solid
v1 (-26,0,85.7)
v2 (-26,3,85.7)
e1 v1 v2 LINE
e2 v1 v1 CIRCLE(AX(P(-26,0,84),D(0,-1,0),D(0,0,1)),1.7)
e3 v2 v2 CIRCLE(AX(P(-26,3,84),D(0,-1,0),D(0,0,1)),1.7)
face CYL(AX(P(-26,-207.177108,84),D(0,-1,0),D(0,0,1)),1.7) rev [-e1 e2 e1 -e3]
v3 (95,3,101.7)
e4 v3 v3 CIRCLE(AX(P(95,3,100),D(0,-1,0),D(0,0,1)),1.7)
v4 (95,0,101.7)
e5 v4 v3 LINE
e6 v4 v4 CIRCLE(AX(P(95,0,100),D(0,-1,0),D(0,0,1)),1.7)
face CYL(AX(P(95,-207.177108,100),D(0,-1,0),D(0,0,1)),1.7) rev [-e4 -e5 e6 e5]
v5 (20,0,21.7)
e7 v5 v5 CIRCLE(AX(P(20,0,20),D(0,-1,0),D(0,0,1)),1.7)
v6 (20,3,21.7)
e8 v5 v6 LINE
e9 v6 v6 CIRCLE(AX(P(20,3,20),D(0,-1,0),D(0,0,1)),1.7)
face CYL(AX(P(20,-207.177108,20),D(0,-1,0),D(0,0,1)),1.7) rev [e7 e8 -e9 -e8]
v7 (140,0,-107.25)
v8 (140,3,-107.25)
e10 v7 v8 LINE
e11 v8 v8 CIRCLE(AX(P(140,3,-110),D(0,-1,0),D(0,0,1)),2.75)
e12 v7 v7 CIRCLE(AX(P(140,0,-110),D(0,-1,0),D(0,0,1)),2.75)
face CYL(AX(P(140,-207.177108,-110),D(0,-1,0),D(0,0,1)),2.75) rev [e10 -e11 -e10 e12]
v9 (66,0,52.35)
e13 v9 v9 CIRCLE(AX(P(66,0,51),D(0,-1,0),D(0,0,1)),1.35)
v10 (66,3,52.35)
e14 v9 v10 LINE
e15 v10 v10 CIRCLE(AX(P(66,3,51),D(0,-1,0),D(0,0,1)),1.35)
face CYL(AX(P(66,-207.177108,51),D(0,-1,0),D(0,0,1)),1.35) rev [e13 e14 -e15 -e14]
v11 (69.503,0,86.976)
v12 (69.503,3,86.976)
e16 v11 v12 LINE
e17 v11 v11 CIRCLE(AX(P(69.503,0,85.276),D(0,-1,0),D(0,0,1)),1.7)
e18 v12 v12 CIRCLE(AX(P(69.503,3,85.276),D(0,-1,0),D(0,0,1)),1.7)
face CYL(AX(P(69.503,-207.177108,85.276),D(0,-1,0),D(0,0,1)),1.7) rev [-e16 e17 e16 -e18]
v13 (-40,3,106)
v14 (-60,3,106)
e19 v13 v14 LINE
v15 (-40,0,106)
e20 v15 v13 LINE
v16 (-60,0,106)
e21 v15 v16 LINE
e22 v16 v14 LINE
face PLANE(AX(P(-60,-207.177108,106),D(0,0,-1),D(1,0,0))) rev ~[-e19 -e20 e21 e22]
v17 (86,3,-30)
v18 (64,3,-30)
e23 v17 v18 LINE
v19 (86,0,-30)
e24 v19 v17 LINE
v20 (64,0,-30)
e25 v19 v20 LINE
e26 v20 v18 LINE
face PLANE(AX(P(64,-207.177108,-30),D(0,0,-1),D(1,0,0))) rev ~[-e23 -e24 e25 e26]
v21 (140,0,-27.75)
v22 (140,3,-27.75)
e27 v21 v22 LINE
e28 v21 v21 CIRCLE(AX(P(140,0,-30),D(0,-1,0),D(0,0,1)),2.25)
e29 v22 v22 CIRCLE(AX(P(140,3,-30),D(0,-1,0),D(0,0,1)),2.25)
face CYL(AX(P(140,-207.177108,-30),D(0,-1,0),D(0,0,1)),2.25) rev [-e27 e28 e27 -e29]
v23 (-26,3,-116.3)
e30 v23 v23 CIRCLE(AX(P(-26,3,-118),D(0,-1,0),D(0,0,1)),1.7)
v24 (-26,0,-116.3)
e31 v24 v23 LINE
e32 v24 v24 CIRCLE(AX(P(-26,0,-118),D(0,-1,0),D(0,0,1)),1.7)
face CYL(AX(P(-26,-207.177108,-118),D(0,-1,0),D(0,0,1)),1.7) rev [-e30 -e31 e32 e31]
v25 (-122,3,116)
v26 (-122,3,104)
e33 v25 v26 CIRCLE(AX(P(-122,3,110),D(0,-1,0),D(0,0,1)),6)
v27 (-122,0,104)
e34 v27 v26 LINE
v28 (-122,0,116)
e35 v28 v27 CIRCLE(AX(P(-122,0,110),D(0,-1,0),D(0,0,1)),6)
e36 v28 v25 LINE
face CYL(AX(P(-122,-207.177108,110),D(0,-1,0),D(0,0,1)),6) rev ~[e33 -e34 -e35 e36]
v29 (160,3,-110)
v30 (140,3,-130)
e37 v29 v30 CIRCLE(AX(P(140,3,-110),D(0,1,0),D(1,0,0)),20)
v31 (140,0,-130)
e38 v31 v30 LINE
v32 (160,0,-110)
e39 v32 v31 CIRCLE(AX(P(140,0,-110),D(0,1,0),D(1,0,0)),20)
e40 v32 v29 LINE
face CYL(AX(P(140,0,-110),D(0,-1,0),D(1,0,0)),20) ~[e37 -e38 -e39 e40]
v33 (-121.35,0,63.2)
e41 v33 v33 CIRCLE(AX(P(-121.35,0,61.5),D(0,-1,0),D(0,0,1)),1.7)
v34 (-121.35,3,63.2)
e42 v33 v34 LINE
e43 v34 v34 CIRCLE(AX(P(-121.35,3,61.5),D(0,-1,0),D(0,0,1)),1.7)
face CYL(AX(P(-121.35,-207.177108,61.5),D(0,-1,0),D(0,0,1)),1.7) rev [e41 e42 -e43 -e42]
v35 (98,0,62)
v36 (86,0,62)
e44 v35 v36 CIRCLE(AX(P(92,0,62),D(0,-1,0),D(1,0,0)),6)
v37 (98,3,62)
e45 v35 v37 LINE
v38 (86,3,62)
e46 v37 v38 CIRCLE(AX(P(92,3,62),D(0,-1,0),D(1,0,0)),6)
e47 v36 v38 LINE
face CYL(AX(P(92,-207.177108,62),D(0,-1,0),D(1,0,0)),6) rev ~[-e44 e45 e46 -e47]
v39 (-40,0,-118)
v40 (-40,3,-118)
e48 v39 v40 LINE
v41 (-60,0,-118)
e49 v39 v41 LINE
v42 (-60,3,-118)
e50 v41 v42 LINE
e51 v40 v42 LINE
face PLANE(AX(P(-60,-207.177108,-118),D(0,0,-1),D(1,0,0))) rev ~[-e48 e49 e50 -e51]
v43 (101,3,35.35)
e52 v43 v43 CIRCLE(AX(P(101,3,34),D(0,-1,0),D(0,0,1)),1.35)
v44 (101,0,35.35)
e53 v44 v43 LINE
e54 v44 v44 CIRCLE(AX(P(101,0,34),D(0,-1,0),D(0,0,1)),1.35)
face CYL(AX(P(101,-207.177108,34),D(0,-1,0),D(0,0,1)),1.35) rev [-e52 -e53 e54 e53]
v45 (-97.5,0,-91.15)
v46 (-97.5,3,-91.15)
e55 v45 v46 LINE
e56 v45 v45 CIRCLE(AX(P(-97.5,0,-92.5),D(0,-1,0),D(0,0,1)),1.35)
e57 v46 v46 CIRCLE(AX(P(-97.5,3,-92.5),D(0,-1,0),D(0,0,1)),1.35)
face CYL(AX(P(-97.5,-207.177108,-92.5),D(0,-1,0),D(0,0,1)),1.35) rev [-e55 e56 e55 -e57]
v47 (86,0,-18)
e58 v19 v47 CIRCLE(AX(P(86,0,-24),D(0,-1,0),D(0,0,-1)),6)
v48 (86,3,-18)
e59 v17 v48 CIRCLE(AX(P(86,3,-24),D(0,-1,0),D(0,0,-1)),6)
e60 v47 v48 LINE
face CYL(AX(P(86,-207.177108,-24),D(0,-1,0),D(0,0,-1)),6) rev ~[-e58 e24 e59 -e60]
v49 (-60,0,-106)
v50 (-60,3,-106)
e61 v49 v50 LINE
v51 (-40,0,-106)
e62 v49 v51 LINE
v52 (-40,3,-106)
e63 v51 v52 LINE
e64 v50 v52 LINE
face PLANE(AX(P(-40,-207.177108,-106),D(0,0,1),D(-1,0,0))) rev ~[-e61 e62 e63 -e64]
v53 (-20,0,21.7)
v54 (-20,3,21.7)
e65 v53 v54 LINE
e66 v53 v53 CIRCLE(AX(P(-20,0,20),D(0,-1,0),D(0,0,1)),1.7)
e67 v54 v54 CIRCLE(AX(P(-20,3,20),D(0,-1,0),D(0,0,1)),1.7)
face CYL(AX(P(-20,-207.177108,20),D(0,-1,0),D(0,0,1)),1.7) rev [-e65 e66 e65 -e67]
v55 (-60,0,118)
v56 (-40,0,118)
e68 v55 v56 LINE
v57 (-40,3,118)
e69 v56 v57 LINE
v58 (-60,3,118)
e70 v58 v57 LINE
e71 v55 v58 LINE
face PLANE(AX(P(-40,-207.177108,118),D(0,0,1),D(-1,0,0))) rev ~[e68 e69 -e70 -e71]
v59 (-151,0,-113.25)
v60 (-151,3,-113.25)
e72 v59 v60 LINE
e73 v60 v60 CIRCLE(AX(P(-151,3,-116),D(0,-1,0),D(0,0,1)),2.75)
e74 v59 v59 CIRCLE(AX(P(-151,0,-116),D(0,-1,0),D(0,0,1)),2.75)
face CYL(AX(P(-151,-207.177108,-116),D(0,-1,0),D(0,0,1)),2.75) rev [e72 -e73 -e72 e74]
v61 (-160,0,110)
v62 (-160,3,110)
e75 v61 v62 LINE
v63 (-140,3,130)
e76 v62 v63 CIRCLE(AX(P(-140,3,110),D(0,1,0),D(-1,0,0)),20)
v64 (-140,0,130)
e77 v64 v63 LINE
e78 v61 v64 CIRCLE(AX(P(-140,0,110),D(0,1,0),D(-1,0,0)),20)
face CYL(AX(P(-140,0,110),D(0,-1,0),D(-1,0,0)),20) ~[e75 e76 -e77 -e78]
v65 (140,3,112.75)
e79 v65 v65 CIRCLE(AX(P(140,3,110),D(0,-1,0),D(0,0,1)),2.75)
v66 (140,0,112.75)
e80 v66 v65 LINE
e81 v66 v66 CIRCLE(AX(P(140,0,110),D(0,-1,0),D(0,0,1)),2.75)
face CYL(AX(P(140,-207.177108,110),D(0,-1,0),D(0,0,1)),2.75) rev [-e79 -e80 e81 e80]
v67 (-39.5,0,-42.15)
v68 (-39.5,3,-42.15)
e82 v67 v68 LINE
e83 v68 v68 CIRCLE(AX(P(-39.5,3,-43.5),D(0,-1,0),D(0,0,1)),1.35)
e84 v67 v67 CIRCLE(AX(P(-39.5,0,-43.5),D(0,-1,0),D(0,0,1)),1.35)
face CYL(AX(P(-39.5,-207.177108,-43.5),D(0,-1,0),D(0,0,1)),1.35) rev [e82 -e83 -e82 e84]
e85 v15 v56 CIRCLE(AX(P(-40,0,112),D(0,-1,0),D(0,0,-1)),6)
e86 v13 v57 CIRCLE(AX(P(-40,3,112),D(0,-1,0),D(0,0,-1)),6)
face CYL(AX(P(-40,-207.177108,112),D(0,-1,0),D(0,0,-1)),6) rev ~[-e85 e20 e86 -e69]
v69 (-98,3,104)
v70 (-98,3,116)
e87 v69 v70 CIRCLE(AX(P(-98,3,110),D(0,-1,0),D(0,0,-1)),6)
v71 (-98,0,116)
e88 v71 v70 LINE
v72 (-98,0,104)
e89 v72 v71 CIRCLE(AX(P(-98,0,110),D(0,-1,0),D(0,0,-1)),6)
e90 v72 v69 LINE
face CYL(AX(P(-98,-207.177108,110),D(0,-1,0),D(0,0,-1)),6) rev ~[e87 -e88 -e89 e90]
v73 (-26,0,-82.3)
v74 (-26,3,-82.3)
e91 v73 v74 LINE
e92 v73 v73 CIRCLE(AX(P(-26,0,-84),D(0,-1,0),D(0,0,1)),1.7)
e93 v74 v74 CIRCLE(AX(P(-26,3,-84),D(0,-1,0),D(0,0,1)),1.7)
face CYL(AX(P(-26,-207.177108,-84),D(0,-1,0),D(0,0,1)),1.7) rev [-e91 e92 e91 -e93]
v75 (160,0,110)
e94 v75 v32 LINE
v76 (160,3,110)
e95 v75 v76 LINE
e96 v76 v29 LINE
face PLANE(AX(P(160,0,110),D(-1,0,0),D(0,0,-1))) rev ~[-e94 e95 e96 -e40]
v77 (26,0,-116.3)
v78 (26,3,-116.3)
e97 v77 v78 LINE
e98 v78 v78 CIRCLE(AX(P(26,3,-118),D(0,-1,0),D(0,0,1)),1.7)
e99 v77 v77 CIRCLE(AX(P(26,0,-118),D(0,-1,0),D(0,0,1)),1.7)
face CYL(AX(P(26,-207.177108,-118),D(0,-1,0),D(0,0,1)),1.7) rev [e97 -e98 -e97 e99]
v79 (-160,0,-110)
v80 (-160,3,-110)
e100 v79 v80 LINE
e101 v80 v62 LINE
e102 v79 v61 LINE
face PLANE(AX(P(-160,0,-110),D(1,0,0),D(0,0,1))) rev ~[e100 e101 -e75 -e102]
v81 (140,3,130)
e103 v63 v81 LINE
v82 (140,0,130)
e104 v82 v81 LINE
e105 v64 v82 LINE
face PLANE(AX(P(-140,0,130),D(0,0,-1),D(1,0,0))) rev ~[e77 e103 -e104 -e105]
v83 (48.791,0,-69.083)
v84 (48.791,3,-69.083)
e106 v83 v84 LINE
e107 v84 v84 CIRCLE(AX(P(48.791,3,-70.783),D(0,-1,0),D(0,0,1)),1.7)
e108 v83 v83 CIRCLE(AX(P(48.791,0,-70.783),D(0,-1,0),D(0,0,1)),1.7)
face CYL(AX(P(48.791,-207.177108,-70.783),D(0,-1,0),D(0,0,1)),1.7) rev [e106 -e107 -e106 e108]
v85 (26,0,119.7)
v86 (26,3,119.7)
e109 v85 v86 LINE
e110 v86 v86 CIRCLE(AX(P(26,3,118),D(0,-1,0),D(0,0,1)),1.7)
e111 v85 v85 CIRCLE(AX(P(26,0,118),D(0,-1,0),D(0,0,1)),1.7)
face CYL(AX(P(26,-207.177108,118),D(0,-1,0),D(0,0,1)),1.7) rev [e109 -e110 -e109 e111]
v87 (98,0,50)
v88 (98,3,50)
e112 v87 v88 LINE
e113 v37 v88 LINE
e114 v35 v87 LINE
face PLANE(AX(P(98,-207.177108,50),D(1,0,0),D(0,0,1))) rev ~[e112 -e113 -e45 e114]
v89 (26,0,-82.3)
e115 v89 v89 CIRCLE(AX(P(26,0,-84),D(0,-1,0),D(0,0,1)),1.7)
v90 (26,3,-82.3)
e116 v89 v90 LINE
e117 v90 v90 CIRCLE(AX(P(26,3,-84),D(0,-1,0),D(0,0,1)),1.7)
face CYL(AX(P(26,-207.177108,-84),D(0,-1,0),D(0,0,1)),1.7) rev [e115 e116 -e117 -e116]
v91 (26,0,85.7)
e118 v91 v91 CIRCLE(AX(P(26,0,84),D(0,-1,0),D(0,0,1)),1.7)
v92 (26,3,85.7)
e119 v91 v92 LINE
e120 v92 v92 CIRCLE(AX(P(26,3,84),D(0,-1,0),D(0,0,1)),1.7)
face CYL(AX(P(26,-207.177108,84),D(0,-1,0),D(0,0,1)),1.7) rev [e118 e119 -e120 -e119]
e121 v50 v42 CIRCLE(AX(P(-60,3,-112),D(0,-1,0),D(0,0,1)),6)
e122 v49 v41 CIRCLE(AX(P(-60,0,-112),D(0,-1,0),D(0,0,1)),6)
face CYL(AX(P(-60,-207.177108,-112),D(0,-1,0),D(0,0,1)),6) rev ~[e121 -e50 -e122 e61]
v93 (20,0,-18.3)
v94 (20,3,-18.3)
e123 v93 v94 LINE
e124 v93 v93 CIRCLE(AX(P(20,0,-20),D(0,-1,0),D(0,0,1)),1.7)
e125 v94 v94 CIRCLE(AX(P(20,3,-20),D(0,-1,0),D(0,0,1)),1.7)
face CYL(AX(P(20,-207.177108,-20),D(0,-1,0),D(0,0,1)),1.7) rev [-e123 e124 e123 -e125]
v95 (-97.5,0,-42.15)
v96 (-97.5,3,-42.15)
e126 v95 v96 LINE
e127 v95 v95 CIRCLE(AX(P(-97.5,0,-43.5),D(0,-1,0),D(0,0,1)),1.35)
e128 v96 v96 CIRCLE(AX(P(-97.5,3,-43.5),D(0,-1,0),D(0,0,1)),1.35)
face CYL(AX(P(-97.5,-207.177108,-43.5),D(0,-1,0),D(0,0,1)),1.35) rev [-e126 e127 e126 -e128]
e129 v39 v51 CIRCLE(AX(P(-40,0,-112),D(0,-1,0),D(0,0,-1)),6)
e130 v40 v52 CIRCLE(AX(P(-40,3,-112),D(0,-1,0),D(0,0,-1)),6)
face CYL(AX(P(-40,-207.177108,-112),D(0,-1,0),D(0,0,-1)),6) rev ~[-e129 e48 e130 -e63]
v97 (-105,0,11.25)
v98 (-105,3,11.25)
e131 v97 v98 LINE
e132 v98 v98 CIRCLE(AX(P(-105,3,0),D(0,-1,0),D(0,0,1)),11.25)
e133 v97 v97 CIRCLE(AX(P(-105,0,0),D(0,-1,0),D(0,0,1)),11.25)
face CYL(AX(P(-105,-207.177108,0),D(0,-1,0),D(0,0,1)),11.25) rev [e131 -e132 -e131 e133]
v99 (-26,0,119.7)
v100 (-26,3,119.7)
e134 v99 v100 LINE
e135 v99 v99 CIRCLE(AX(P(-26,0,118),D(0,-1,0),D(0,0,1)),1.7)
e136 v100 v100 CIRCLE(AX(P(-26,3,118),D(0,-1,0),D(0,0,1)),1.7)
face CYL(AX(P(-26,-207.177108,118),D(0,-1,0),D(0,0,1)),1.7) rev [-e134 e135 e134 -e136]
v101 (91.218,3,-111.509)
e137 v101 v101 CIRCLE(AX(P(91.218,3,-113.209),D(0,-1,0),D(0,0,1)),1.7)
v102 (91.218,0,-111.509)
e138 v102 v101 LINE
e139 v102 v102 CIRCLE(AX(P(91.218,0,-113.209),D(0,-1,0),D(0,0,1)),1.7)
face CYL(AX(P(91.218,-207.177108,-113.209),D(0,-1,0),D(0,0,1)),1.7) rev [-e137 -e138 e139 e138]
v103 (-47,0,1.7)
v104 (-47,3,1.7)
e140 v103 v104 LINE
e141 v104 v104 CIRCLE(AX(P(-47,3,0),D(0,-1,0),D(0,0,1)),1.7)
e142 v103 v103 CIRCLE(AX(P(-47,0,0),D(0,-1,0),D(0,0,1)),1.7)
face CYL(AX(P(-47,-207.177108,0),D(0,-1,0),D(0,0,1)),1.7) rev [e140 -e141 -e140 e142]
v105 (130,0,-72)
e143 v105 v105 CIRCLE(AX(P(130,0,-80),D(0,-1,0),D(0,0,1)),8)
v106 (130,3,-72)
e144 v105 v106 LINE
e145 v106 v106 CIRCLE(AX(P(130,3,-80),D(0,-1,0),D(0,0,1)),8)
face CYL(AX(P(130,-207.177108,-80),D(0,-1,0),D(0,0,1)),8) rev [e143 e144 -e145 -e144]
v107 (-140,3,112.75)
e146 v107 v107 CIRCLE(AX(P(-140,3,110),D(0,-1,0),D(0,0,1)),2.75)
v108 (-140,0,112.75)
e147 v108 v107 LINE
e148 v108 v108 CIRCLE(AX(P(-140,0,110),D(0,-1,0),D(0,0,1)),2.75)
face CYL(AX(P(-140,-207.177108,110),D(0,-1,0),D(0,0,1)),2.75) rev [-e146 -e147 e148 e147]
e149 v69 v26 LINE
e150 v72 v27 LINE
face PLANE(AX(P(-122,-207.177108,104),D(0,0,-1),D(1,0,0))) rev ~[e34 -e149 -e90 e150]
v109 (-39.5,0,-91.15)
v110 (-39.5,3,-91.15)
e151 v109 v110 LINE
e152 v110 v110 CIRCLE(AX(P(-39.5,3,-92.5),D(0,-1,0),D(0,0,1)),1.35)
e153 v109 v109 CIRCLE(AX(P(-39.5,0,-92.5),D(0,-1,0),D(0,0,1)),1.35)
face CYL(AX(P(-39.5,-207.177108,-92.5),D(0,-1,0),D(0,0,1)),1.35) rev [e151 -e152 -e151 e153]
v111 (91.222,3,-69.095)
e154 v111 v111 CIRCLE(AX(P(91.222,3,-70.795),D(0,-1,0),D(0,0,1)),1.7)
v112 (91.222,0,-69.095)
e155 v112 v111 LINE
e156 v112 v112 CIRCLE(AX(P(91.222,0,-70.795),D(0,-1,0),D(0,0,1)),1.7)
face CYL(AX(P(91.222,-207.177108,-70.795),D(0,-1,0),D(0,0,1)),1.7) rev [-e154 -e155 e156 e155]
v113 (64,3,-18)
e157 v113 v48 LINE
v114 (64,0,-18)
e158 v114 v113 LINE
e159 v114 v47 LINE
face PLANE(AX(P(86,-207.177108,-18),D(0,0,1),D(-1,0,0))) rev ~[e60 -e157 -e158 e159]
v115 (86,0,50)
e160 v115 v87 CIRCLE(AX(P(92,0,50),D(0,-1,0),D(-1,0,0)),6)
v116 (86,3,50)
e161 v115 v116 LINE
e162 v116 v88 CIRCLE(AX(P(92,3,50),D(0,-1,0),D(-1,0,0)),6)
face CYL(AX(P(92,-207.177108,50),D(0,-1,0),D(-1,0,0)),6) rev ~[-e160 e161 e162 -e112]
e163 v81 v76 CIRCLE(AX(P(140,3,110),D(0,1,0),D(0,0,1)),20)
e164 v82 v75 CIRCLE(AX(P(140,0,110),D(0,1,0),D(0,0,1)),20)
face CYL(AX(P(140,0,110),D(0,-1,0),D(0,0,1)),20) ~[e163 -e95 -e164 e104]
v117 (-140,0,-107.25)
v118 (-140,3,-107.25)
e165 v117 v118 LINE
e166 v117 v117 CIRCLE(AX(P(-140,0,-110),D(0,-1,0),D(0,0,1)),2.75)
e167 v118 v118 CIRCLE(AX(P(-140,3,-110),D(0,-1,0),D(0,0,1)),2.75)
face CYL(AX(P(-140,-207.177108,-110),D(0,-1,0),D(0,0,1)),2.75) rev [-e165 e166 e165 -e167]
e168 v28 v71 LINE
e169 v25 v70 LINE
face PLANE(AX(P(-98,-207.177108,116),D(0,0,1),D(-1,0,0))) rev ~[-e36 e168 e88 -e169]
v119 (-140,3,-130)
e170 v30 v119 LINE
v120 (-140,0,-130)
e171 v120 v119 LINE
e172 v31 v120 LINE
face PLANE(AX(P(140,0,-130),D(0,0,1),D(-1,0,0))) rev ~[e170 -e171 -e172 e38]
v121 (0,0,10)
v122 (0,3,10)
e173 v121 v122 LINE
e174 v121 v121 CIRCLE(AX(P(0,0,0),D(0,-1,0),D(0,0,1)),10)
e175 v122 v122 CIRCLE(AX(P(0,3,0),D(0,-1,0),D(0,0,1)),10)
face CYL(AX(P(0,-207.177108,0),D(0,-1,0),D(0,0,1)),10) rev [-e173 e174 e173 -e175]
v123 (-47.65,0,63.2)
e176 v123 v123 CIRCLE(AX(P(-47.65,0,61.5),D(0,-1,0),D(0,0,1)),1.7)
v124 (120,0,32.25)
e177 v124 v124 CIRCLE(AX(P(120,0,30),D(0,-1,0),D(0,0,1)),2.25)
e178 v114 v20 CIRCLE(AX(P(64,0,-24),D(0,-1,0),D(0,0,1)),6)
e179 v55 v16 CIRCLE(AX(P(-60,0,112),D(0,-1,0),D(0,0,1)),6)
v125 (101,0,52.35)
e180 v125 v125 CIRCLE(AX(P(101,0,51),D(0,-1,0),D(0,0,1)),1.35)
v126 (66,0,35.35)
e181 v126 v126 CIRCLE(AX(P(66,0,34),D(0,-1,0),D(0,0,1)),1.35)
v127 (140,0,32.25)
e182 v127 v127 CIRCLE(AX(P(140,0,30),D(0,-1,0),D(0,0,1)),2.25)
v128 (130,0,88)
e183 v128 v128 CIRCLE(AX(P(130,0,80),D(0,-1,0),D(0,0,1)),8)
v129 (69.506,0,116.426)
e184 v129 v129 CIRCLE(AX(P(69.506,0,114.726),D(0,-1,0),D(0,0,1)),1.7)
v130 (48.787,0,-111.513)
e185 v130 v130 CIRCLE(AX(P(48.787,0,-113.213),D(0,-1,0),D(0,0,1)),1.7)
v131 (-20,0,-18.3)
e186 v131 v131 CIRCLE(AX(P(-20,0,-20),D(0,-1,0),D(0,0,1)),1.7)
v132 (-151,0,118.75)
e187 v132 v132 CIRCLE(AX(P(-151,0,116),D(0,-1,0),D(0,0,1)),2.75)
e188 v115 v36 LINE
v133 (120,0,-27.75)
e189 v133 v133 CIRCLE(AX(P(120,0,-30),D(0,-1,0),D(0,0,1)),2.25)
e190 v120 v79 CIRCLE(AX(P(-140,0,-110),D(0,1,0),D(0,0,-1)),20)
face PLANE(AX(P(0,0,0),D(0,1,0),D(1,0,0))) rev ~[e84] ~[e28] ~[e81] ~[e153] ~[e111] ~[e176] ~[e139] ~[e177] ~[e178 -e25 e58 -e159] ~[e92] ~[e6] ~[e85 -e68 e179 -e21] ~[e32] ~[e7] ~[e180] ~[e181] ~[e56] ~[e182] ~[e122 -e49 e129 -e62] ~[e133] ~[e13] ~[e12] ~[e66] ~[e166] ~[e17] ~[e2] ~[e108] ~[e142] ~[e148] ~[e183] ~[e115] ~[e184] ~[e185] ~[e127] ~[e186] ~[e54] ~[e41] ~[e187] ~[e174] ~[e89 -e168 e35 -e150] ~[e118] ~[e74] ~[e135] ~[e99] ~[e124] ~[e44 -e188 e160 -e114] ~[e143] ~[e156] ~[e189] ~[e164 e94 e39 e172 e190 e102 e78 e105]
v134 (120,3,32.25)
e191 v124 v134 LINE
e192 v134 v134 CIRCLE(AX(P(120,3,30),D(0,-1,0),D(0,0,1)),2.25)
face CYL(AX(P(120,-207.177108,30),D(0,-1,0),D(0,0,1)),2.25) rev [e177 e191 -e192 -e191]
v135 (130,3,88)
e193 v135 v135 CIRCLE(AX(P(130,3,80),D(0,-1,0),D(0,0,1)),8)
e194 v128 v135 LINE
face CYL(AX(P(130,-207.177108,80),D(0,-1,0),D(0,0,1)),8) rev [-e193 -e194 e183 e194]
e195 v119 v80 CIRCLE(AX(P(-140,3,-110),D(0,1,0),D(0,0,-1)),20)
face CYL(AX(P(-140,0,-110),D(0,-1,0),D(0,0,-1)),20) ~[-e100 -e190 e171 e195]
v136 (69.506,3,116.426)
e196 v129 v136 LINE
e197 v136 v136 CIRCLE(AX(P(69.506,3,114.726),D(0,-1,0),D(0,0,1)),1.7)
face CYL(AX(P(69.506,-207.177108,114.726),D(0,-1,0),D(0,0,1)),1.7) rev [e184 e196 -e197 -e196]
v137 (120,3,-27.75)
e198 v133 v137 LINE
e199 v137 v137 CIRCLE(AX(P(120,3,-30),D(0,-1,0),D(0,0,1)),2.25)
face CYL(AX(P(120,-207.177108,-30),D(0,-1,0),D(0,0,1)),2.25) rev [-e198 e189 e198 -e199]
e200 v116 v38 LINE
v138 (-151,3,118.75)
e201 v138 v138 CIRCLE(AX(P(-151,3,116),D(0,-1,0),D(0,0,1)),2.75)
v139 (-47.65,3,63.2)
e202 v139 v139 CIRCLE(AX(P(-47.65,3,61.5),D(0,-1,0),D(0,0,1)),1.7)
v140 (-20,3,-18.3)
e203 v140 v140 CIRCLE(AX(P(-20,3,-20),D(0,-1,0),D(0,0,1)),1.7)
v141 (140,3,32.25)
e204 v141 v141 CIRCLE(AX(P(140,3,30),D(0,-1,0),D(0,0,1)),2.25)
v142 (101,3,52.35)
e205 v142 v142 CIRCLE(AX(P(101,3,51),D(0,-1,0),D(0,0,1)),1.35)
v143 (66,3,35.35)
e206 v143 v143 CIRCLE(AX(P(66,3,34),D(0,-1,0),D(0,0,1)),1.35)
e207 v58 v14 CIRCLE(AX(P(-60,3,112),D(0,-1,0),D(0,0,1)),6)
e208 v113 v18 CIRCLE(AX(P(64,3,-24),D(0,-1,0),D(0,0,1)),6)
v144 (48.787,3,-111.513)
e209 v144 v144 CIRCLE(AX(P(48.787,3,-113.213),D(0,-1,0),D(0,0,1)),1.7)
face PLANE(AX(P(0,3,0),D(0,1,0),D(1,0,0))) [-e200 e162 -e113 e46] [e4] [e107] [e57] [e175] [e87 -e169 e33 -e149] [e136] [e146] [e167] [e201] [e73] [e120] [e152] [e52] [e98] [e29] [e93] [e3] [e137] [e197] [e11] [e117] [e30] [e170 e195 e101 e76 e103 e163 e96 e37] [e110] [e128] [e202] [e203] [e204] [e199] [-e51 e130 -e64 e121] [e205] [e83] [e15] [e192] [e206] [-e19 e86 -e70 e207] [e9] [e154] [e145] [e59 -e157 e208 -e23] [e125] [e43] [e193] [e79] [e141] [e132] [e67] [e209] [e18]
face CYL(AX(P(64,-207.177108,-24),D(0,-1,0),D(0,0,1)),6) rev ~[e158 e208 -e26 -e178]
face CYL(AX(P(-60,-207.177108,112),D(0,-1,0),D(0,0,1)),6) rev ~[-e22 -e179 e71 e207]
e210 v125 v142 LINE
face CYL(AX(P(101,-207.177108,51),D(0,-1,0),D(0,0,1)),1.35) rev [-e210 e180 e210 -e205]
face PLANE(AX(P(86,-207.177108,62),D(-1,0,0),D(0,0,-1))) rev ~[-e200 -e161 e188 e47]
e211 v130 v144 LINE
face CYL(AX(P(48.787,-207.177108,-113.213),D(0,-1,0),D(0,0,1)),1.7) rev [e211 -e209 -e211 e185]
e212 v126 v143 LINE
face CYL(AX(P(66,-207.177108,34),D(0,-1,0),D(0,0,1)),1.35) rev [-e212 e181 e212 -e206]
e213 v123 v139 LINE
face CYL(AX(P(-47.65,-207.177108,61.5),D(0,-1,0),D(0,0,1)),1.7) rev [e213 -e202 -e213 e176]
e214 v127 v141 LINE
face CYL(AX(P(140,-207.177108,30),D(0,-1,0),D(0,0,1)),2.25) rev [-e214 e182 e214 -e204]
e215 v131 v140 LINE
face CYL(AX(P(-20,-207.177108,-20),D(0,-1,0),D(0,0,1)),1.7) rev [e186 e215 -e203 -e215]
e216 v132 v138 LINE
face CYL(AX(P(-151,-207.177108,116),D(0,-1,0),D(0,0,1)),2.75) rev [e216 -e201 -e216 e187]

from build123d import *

# Parameters (mm, degrees)
PLATE_DEPTH                    = 3
CUT_DECKPOSTS_M5_DEPTH         = 207.177108332
CUT_DECKPOSTS_M5_DEPTH_BACK    = 207.177108332
SK_DECKPOSTS_M5_R              = 2.75
CUT_LIDARRISER_M3_DEPTH        = 207.177108332
CUT_LIDARRISER_M3_DEPTH_BACK   = 207.177108332
SK_LIDARRISER_M3_R             = 1.7
CUT_LIDARCABLE_20_DEPTH        = 207.177108332
CUT_LIDARCABLE_20_DEPTH_BACK   = 207.177108332
SK_LIDARCABLE_20_R             = 10
CUT_PI5_M2P5_DEPTH             = 207.177108332
CUT_PI5_M2P5_DEPTH_BACK        = 207.177108332
SK_PI5_M2P5_R                  = 1.35
CUT_ESP32CARRIER_M3_DEPTH      = 207.177108332
CUT_ESP32CARRIER_M3_DEPTH_BACK = 207.177108332
SK_ESP32CARRIER_M3_R           = 1.7
CUT_ESTOP_22P5_DEPTH           = 207.177108332
CUT_ESTOP_22P5_DEPTH_BACK      = 207.177108332
SK_ESTOP_22P5_R                = 11.25
CUT_CAMERA_M4_DEPTH            = 207.177108332
CUT_CAMERA_M4_DEPTH_BACK       = 207.177108332
SK_CAMERA_M4_R                 = 2.25
CUT_LIGHTS_16_DEPTH            = 207.177108332
CUT_LIGHTS_16_DEPTH_BACK       = 207.177108332
SK_LIGHTS_16_R                 = 8
CUT_HANDLE_M5_DEPTH            = 207.177108332
CUT_HANDLE_M5_DEPTH_BACK       = 207.177108332
SK_HANDLE_M5_R                 = 2.75
CUT_POWERBLOCKS_M3_DEPTH       = 207.177108332
CUT_POWERBLOCKS_M3_DEPTH_BACK  = 207.177108332
SK_POWERBLOCKS_M3_R            = 1.7
CUT_K2RELAY_M2P5_DEPTH         = 207.177108332
CUT_K2RELAY_M2P5_DEPTH_BACK    = 207.177108332
SK_K2RELAY_M2P5_R              = 1.35
CUT_LIDARSPLICE_M3_DEPTH       = 207.177108332
CUT_LIDARSPLICE_M3_DEPTH_BACK  = 207.177108332
SK_LIDARSPLICE_M3_R            = 1.7
CUT_MICARRAY_M3_DEPTH          = 207.177108332
CUT_MICARRAY_M3_DEPTH_BACK     = 207.177108332
SK_MICARRAY_M3_R               = 1.7
CUT_SPEAKER_M3_DEPTH           = 207.177108332
CUT_SPEAKER_M3_DEPTH_BACK      = 207.177108332
SK_SPEAKER_M3_R                = 1.7
CUT_PASSTHROUGHS_DEPTH         = 207.177108332
CUT_PASSTHROUGHS_DEPTH_BACK    = 207.177108332


with BuildPart() as part:
    # SK_Outline → Plate (new body)
    with BuildSketch(Plane(origin=(0, 0, 0), x_dir=(1, 0, 0), z_dir=(0, 1, 0))):
        with BuildLine():
            Line((160, -110), (160, 110))
            ThreePointArc((160, 110), (154.142135624, 124.142135624), (140, 130))
            Line((140, 130), (-140, 130))
            ThreePointArc((-140, 130), (-154.142135624, 124.142135624), (-160, 110))
            Line((-160, 110), (-160, -110))
            ThreePointArc((-160, -110), (-154.142135624, -124.142135624), (-140, -130))
            Line((-140, -130), (140, -130))
            ThreePointArc((140, -130), (154.142135624, -124.142135624), (160, -110))
        make_face()
    extrude(amount=PLATE_DEPTH)

    # SK_DeckPosts_M5 → Cut_DeckPosts_M5 (cut, two sides: drawn at the far end of the back side and taken through both)
    with BuildSketch(Plane(origin=(0, 0, 0), x_dir=(1, 0, 0), z_dir=(0, 1, 0)).offset(-CUT_DECKPOSTS_M5_DEPTH_BACK)):
        with Locations(Location((140, -110, 0), (0, 0, 270))):
            Circle(SK_DECKPOSTS_M5_R)
        with Locations(Location((140, 110, 0), (0, 0, 270))):
            Circle(SK_DECKPOSTS_M5_R)
        with Locations(Location((-140, -110, 0), (0, 0, 270))):
            Circle(SK_DECKPOSTS_M5_R)
        with Locations(Location((-140, 110, 0), (0, 0, 270))):
            Circle(SK_DECKPOSTS_M5_R)
    extrude(amount=CUT_DECKPOSTS_M5_DEPTH + CUT_DECKPOSTS_M5_DEPTH_BACK, mode=Mode.SUBTRACT)

    # SK_LidarRiser_M3 → Cut_LidarRiser_M3 (cut, two sides: drawn at the far end of the back side and taken through both)
    with BuildSketch(Plane(origin=(0, 0, 0), x_dir=(1, 0, 0), z_dir=(0, 1, 0)).offset(-CUT_LIDARRISER_M3_DEPTH_BACK)):
        with Locations(Location((20, -20, 0), (0, 0, 270))):
            Circle(SK_LIDARRISER_M3_R)
        with Locations(Location((20, 20, 0), (0, 0, 270))):
            Circle(SK_LIDARRISER_M3_R)
        with Locations(Location((-20, -20, 0), (0, 0, 270))):
            Circle(SK_LIDARRISER_M3_R)
        with Locations(Location((-20, 20, 0), (0, 0, 270))):
            Circle(SK_LIDARRISER_M3_R)
    extrude(amount=CUT_LIDARRISER_M3_DEPTH + CUT_LIDARRISER_M3_DEPTH_BACK, mode=Mode.SUBTRACT)

    # SK_LidarCable_20 → Cut_LidarCable_20 (cut, two sides: drawn at the far end of the back side and taken through both)
    with BuildSketch(Plane(origin=(0, 0, 0), x_dir=(1, 0, 0), z_dir=(0, 1, 0)).offset(-CUT_LIDARCABLE_20_DEPTH_BACK)):
        with Locations(Location((0, 0, 0), (0, 0, 270))):
            Circle(SK_LIDARCABLE_20_R)
    extrude(amount=CUT_LIDARCABLE_20_DEPTH + CUT_LIDARCABLE_20_DEPTH_BACK, mode=Mode.SUBTRACT)

    # SK_Pi5_M2p5 → Cut_Pi5_M2p5 (cut, two sides: drawn at the far end of the back side and taken through both)
    with BuildSketch(Plane(origin=(0, 0, 0), x_dir=(1, 0, 0), z_dir=(0, 1, 0)).offset(-CUT_PI5_M2P5_DEPTH_BACK)):
        with Locations(Location((-97.5, 92.5, 0), (0, 0, 270))):
            Circle(SK_PI5_M2P5_R)
        with Locations(Location((-97.5, 43.5, 0), (0, 0, 270))):
            Circle(SK_PI5_M2P5_R)
        with Locations(Location((-39.5, 92.5, 0), (0, 0, 270))):
            Circle(SK_PI5_M2P5_R)
        with Locations(Location((-39.5, 43.5, 0), (0, 0, 270))):
            Circle(SK_PI5_M2P5_R)
    extrude(amount=CUT_PI5_M2P5_DEPTH + CUT_PI5_M2P5_DEPTH_BACK, mode=Mode.SUBTRACT)

    # SK_ESP32Carrier_M3 → Cut_ESP32Carrier_M3 (cut, two sides: drawn at the far end of the back side and taken through both)
    with BuildSketch(Plane(origin=(0, 0, 0), x_dir=(1, 0, 0), z_dir=(0, 1, 0)).offset(-CUT_ESP32CARRIER_M3_DEPTH_BACK)):
        with Locations(Location((-121.35, -61.5, 0), (0, 0, 270))):
            Circle(SK_ESP32CARRIER_M3_R)
        with Locations(Location((-47.65, -61.5, 0), (0, 0, 270))):
            Circle(SK_ESP32CARRIER_M3_R)
    extrude(amount=CUT_ESP32CARRIER_M3_DEPTH + CUT_ESP32CARRIER_M3_DEPTH_BACK, mode=Mode.SUBTRACT)

    # SK_EStop_22p5 → Cut_EStop_22p5 (cut, two sides: drawn at the far end of the back side and taken through both)
    with BuildSketch(Plane(origin=(0, 0, 0), x_dir=(1, 0, 0), z_dir=(0, 1, 0)).offset(-CUT_ESTOP_22P5_DEPTH_BACK)):
        with Locations(Location((-105, 0, 0), (0, 0, 270))):
            Circle(SK_ESTOP_22P5_R)
    extrude(amount=CUT_ESTOP_22P5_DEPTH + CUT_ESTOP_22P5_DEPTH_BACK, mode=Mode.SUBTRACT)

    # SK_Camera_M4 → Cut_Camera_M4 (cut, two sides: drawn at the far end of the back side and taken through both)
    with BuildSketch(Plane(origin=(0, 0, 0), x_dir=(1, 0, 0), z_dir=(0, 1, 0)).offset(-CUT_CAMERA_M4_DEPTH_BACK)):
        with Locations(Location((120, -30, 0), (0, 0, 270))):
            Circle(SK_CAMERA_M4_R)
        with Locations(Location((120, 30, 0), (0, 0, 270))):
            Circle(SK_CAMERA_M4_R)
        with Locations(Location((140, -30, 0), (0, 0, 270))):
            Circle(SK_CAMERA_M4_R)
        with Locations(Location((140, 30, 0), (0, 0, 270))):
            Circle(SK_CAMERA_M4_R)
    extrude(amount=CUT_CAMERA_M4_DEPTH + CUT_CAMERA_M4_DEPTH_BACK, mode=Mode.SUBTRACT)

    # SK_Lights_16 → Cut_Lights_16 (cut, two sides: drawn at the far end of the back side and taken through both)
    with BuildSketch(Plane(origin=(0, 0, 0), x_dir=(1, 0, 0), z_dir=(0, 1, 0)).offset(-CUT_LIGHTS_16_DEPTH_BACK)):
        with Locations(Location((130, -80, 0), (0, 0, 270))):
            Circle(SK_LIGHTS_16_R)
        with Locations(Location((130, 80, 0), (0, 0, 270))):
            Circle(SK_LIGHTS_16_R)
    extrude(amount=CUT_LIGHTS_16_DEPTH + CUT_LIGHTS_16_DEPTH_BACK, mode=Mode.SUBTRACT)

    # SK_Handle_M5 → Cut_Handle_M5 (cut, two sides: drawn at the far end of the back side and taken through both)
    with BuildSketch(Plane(origin=(0, 0, 0), x_dir=(1, 0, 0), z_dir=(0, 1, 0)).offset(-CUT_HANDLE_M5_DEPTH_BACK)):
        with Locations(Location((-151, -116, 0), (0, 0, 270))):
            Circle(SK_HANDLE_M5_R)
        with Locations(Location((-151, 116, 0), (0, 0, 270))):
            Circle(SK_HANDLE_M5_R)
    extrude(amount=CUT_HANDLE_M5_DEPTH + CUT_HANDLE_M5_DEPTH_BACK, mode=Mode.SUBTRACT)

    # SK_PowerBlocks_M3 → Cut_PowerBlocks_M3 (cut, two sides: drawn at the far end of the back side and taken through both)
    with BuildSketch(Plane(origin=(0, 0, 0), x_dir=(1, 0, 0), z_dir=(0, 1, 0)).offset(-CUT_POWERBLOCKS_M3_DEPTH_BACK)):
        with Locations(Location((-26, -84, 0), (0, 0, 270))):
            Circle(SK_POWERBLOCKS_M3_R)
        with Locations(Location((-26, -118, 0), (0, 0, 270))):
            Circle(SK_POWERBLOCKS_M3_R)
        with Locations(Location((26, -84, 0), (0, 0, 270))):
            Circle(SK_POWERBLOCKS_M3_R)
        with Locations(Location((26, -118, 0), (0, 0, 270))):
            Circle(SK_POWERBLOCKS_M3_R)
        with Locations(Location((-26, 84, 0), (0, 0, 270))):
            Circle(SK_POWERBLOCKS_M3_R)
        with Locations(Location((-26, 118, 0), (0, 0, 270))):
            Circle(SK_POWERBLOCKS_M3_R)
        with Locations(Location((26, 84, 0), (0, 0, 270))):
            Circle(SK_POWERBLOCKS_M3_R)
        with Locations(Location((26, 118, 0), (0, 0, 270))):
            Circle(SK_POWERBLOCKS_M3_R)
    extrude(amount=CUT_POWERBLOCKS_M3_DEPTH + CUT_POWERBLOCKS_M3_DEPTH_BACK, mode=Mode.SUBTRACT)

    # SK_K2Relay_M2p5 → Cut_K2Relay_M2p5 (cut, two sides: drawn at the far end of the back side and taken through both)
    with BuildSketch(Plane(origin=(0, 0, 0), x_dir=(1, 0, 0), z_dir=(0, 1, 0)).offset(-CUT_K2RELAY_M2P5_DEPTH_BACK)):
        with Locations(Location((66, -34, 0), (0, 0, 270))):
            Circle(SK_K2RELAY_M2P5_R)
        with Locations(Location((66, -51, 0), (0, 0, 270))):
            Circle(SK_K2RELAY_M2P5_R)
        with Locations(Location((101, -34, 0), (0, 0, 270))):
            Circle(SK_K2RELAY_M2P5_R)
        with Locations(Location((101, -51, 0), (0, 0, 270))):
            Circle(SK_K2RELAY_M2P5_R)
    extrude(amount=CUT_K2RELAY_M2P5_DEPTH + CUT_K2RELAY_M2P5_DEPTH_BACK, mode=Mode.SUBTRACT)

    # SK_LidarSplice_M3 → Cut_LidarSplice_M3 (cut, two sides: drawn at the far end of the back side and taken through both)
    with BuildSketch(Plane(origin=(0, 0, 0), x_dir=(1, 0, 0), z_dir=(0, 1, 0)).offset(-CUT_LIDARSPLICE_M3_DEPTH_BACK)):
        with Locations(Location((-47, 0, 0), (0, 0, 270))):
            Circle(SK_LIDARSPLICE_M3_R)
    extrude(amount=CUT_LIDARSPLICE_M3_DEPTH + CUT_LIDARSPLICE_M3_DEPTH_BACK, mode=Mode.SUBTRACT)

    # SK_MicArray_M3 → Cut_MicArray_M3 (cut, two sides: drawn at the far end of the back side and taken through both)
    with BuildSketch(Plane(origin=(0, 0, 0), x_dir=(1, 0, 0), z_dir=(0, 1, 0)).offset(-CUT_MICARRAY_M3_DEPTH_BACK)):
        with Locations(Location((91.222, 70.795, 0), (0, 0, 270))):
            Circle(SK_MICARRAY_M3_R)
        with Locations(Location((48.791, 70.783, 0), (0, 0, 270))):
            Circle(SK_MICARRAY_M3_R)
        with Locations(Location((48.787, 113.213, 0), (0, 0, 270))):
            Circle(SK_MICARRAY_M3_R)
        with Locations(Location((91.218, 113.209, 0), (0, 0, 270))):
            Circle(SK_MICARRAY_M3_R)
    extrude(amount=CUT_MICARRAY_M3_DEPTH + CUT_MICARRAY_M3_DEPTH_BACK, mode=Mode.SUBTRACT)

    # SK_Speaker_M3 → Cut_Speaker_M3 (cut, two sides: drawn at the far end of the back side and taken through both)
    with BuildSketch(Plane(origin=(0, 0, 0), x_dir=(1, 0, 0), z_dir=(0, 1, 0)).offset(-CUT_SPEAKER_M3_DEPTH_BACK)):
        with Locations(Location((95, -100, 0), (0, 0, 270))):
            Circle(SK_SPEAKER_M3_R)
        with Locations(Location((69.506, -114.726, 0), (0, 0, 270))):
            Circle(SK_SPEAKER_M3_R)
        with Locations(Location((69.503, -85.276, 0), (0, 0, 270))):
            Circle(SK_SPEAKER_M3_R)
    extrude(amount=CUT_SPEAKER_M3_DEPTH + CUT_SPEAKER_M3_DEPTH_BACK, mode=Mode.SUBTRACT)

    # SK_PassThroughs → Cut_PassThroughs (cut, two sides: drawn at the far end of the back side and taken through both)
    with BuildSketch(Plane(origin=(0, 0, 0), x_dir=(1, 0, 0), z_dir=(0, 1, 0)).offset(-CUT_PASSTHROUGHS_DEPTH_BACK)):
        with BuildLine():
            Line((-60, 118), (-40, 118))
            ThreePointArc((-40, 118), (-34, 112), (-40, 106))
            Line((-40, 106), (-60, 106))
            ThreePointArc((-60, 106), (-66, 112), (-60, 118))
        make_face()
        with BuildLine():
            Line((-60, -106), (-40, -106))
            ThreePointArc((-40, -106), (-34, -112), (-40, -118))
            Line((-40, -118), (-60, -118))
            ThreePointArc((-60, -118), (-66, -112), (-60, -106))
        make_face()
        with BuildLine():
            Line((-122, -104), (-98, -104))
            ThreePointArc((-98, -104), (-92, -110), (-98, -116))
            Line((-98, -116), (-122, -116))
            ThreePointArc((-122, -116), (-128, -110), (-122, -104))
        make_face()
        with BuildLine():
            Line((64, 30), (86, 30))
            ThreePointArc((86, 30), (92, 24), (86, 18))
            Line((86, 18), (64, 18))
            ThreePointArc((64, 18), (58, 24), (64, 30))
        make_face()
        with BuildLine():
            Line((98, -50), (98, -62))
            ThreePointArc((98, -62), (92, -68), (86, -62))
            Line((86, -62), (86, -50))
            ThreePointArc((86, -50), (92, -44), (98, -50))
        make_face()
    extrude(amount=CUT_PASSTHROUGHS_DEPTH + CUT_PASSTHROUGHS_DEPTH_BACK, mode=Mode.SUBTRACT)


solid = part.part
